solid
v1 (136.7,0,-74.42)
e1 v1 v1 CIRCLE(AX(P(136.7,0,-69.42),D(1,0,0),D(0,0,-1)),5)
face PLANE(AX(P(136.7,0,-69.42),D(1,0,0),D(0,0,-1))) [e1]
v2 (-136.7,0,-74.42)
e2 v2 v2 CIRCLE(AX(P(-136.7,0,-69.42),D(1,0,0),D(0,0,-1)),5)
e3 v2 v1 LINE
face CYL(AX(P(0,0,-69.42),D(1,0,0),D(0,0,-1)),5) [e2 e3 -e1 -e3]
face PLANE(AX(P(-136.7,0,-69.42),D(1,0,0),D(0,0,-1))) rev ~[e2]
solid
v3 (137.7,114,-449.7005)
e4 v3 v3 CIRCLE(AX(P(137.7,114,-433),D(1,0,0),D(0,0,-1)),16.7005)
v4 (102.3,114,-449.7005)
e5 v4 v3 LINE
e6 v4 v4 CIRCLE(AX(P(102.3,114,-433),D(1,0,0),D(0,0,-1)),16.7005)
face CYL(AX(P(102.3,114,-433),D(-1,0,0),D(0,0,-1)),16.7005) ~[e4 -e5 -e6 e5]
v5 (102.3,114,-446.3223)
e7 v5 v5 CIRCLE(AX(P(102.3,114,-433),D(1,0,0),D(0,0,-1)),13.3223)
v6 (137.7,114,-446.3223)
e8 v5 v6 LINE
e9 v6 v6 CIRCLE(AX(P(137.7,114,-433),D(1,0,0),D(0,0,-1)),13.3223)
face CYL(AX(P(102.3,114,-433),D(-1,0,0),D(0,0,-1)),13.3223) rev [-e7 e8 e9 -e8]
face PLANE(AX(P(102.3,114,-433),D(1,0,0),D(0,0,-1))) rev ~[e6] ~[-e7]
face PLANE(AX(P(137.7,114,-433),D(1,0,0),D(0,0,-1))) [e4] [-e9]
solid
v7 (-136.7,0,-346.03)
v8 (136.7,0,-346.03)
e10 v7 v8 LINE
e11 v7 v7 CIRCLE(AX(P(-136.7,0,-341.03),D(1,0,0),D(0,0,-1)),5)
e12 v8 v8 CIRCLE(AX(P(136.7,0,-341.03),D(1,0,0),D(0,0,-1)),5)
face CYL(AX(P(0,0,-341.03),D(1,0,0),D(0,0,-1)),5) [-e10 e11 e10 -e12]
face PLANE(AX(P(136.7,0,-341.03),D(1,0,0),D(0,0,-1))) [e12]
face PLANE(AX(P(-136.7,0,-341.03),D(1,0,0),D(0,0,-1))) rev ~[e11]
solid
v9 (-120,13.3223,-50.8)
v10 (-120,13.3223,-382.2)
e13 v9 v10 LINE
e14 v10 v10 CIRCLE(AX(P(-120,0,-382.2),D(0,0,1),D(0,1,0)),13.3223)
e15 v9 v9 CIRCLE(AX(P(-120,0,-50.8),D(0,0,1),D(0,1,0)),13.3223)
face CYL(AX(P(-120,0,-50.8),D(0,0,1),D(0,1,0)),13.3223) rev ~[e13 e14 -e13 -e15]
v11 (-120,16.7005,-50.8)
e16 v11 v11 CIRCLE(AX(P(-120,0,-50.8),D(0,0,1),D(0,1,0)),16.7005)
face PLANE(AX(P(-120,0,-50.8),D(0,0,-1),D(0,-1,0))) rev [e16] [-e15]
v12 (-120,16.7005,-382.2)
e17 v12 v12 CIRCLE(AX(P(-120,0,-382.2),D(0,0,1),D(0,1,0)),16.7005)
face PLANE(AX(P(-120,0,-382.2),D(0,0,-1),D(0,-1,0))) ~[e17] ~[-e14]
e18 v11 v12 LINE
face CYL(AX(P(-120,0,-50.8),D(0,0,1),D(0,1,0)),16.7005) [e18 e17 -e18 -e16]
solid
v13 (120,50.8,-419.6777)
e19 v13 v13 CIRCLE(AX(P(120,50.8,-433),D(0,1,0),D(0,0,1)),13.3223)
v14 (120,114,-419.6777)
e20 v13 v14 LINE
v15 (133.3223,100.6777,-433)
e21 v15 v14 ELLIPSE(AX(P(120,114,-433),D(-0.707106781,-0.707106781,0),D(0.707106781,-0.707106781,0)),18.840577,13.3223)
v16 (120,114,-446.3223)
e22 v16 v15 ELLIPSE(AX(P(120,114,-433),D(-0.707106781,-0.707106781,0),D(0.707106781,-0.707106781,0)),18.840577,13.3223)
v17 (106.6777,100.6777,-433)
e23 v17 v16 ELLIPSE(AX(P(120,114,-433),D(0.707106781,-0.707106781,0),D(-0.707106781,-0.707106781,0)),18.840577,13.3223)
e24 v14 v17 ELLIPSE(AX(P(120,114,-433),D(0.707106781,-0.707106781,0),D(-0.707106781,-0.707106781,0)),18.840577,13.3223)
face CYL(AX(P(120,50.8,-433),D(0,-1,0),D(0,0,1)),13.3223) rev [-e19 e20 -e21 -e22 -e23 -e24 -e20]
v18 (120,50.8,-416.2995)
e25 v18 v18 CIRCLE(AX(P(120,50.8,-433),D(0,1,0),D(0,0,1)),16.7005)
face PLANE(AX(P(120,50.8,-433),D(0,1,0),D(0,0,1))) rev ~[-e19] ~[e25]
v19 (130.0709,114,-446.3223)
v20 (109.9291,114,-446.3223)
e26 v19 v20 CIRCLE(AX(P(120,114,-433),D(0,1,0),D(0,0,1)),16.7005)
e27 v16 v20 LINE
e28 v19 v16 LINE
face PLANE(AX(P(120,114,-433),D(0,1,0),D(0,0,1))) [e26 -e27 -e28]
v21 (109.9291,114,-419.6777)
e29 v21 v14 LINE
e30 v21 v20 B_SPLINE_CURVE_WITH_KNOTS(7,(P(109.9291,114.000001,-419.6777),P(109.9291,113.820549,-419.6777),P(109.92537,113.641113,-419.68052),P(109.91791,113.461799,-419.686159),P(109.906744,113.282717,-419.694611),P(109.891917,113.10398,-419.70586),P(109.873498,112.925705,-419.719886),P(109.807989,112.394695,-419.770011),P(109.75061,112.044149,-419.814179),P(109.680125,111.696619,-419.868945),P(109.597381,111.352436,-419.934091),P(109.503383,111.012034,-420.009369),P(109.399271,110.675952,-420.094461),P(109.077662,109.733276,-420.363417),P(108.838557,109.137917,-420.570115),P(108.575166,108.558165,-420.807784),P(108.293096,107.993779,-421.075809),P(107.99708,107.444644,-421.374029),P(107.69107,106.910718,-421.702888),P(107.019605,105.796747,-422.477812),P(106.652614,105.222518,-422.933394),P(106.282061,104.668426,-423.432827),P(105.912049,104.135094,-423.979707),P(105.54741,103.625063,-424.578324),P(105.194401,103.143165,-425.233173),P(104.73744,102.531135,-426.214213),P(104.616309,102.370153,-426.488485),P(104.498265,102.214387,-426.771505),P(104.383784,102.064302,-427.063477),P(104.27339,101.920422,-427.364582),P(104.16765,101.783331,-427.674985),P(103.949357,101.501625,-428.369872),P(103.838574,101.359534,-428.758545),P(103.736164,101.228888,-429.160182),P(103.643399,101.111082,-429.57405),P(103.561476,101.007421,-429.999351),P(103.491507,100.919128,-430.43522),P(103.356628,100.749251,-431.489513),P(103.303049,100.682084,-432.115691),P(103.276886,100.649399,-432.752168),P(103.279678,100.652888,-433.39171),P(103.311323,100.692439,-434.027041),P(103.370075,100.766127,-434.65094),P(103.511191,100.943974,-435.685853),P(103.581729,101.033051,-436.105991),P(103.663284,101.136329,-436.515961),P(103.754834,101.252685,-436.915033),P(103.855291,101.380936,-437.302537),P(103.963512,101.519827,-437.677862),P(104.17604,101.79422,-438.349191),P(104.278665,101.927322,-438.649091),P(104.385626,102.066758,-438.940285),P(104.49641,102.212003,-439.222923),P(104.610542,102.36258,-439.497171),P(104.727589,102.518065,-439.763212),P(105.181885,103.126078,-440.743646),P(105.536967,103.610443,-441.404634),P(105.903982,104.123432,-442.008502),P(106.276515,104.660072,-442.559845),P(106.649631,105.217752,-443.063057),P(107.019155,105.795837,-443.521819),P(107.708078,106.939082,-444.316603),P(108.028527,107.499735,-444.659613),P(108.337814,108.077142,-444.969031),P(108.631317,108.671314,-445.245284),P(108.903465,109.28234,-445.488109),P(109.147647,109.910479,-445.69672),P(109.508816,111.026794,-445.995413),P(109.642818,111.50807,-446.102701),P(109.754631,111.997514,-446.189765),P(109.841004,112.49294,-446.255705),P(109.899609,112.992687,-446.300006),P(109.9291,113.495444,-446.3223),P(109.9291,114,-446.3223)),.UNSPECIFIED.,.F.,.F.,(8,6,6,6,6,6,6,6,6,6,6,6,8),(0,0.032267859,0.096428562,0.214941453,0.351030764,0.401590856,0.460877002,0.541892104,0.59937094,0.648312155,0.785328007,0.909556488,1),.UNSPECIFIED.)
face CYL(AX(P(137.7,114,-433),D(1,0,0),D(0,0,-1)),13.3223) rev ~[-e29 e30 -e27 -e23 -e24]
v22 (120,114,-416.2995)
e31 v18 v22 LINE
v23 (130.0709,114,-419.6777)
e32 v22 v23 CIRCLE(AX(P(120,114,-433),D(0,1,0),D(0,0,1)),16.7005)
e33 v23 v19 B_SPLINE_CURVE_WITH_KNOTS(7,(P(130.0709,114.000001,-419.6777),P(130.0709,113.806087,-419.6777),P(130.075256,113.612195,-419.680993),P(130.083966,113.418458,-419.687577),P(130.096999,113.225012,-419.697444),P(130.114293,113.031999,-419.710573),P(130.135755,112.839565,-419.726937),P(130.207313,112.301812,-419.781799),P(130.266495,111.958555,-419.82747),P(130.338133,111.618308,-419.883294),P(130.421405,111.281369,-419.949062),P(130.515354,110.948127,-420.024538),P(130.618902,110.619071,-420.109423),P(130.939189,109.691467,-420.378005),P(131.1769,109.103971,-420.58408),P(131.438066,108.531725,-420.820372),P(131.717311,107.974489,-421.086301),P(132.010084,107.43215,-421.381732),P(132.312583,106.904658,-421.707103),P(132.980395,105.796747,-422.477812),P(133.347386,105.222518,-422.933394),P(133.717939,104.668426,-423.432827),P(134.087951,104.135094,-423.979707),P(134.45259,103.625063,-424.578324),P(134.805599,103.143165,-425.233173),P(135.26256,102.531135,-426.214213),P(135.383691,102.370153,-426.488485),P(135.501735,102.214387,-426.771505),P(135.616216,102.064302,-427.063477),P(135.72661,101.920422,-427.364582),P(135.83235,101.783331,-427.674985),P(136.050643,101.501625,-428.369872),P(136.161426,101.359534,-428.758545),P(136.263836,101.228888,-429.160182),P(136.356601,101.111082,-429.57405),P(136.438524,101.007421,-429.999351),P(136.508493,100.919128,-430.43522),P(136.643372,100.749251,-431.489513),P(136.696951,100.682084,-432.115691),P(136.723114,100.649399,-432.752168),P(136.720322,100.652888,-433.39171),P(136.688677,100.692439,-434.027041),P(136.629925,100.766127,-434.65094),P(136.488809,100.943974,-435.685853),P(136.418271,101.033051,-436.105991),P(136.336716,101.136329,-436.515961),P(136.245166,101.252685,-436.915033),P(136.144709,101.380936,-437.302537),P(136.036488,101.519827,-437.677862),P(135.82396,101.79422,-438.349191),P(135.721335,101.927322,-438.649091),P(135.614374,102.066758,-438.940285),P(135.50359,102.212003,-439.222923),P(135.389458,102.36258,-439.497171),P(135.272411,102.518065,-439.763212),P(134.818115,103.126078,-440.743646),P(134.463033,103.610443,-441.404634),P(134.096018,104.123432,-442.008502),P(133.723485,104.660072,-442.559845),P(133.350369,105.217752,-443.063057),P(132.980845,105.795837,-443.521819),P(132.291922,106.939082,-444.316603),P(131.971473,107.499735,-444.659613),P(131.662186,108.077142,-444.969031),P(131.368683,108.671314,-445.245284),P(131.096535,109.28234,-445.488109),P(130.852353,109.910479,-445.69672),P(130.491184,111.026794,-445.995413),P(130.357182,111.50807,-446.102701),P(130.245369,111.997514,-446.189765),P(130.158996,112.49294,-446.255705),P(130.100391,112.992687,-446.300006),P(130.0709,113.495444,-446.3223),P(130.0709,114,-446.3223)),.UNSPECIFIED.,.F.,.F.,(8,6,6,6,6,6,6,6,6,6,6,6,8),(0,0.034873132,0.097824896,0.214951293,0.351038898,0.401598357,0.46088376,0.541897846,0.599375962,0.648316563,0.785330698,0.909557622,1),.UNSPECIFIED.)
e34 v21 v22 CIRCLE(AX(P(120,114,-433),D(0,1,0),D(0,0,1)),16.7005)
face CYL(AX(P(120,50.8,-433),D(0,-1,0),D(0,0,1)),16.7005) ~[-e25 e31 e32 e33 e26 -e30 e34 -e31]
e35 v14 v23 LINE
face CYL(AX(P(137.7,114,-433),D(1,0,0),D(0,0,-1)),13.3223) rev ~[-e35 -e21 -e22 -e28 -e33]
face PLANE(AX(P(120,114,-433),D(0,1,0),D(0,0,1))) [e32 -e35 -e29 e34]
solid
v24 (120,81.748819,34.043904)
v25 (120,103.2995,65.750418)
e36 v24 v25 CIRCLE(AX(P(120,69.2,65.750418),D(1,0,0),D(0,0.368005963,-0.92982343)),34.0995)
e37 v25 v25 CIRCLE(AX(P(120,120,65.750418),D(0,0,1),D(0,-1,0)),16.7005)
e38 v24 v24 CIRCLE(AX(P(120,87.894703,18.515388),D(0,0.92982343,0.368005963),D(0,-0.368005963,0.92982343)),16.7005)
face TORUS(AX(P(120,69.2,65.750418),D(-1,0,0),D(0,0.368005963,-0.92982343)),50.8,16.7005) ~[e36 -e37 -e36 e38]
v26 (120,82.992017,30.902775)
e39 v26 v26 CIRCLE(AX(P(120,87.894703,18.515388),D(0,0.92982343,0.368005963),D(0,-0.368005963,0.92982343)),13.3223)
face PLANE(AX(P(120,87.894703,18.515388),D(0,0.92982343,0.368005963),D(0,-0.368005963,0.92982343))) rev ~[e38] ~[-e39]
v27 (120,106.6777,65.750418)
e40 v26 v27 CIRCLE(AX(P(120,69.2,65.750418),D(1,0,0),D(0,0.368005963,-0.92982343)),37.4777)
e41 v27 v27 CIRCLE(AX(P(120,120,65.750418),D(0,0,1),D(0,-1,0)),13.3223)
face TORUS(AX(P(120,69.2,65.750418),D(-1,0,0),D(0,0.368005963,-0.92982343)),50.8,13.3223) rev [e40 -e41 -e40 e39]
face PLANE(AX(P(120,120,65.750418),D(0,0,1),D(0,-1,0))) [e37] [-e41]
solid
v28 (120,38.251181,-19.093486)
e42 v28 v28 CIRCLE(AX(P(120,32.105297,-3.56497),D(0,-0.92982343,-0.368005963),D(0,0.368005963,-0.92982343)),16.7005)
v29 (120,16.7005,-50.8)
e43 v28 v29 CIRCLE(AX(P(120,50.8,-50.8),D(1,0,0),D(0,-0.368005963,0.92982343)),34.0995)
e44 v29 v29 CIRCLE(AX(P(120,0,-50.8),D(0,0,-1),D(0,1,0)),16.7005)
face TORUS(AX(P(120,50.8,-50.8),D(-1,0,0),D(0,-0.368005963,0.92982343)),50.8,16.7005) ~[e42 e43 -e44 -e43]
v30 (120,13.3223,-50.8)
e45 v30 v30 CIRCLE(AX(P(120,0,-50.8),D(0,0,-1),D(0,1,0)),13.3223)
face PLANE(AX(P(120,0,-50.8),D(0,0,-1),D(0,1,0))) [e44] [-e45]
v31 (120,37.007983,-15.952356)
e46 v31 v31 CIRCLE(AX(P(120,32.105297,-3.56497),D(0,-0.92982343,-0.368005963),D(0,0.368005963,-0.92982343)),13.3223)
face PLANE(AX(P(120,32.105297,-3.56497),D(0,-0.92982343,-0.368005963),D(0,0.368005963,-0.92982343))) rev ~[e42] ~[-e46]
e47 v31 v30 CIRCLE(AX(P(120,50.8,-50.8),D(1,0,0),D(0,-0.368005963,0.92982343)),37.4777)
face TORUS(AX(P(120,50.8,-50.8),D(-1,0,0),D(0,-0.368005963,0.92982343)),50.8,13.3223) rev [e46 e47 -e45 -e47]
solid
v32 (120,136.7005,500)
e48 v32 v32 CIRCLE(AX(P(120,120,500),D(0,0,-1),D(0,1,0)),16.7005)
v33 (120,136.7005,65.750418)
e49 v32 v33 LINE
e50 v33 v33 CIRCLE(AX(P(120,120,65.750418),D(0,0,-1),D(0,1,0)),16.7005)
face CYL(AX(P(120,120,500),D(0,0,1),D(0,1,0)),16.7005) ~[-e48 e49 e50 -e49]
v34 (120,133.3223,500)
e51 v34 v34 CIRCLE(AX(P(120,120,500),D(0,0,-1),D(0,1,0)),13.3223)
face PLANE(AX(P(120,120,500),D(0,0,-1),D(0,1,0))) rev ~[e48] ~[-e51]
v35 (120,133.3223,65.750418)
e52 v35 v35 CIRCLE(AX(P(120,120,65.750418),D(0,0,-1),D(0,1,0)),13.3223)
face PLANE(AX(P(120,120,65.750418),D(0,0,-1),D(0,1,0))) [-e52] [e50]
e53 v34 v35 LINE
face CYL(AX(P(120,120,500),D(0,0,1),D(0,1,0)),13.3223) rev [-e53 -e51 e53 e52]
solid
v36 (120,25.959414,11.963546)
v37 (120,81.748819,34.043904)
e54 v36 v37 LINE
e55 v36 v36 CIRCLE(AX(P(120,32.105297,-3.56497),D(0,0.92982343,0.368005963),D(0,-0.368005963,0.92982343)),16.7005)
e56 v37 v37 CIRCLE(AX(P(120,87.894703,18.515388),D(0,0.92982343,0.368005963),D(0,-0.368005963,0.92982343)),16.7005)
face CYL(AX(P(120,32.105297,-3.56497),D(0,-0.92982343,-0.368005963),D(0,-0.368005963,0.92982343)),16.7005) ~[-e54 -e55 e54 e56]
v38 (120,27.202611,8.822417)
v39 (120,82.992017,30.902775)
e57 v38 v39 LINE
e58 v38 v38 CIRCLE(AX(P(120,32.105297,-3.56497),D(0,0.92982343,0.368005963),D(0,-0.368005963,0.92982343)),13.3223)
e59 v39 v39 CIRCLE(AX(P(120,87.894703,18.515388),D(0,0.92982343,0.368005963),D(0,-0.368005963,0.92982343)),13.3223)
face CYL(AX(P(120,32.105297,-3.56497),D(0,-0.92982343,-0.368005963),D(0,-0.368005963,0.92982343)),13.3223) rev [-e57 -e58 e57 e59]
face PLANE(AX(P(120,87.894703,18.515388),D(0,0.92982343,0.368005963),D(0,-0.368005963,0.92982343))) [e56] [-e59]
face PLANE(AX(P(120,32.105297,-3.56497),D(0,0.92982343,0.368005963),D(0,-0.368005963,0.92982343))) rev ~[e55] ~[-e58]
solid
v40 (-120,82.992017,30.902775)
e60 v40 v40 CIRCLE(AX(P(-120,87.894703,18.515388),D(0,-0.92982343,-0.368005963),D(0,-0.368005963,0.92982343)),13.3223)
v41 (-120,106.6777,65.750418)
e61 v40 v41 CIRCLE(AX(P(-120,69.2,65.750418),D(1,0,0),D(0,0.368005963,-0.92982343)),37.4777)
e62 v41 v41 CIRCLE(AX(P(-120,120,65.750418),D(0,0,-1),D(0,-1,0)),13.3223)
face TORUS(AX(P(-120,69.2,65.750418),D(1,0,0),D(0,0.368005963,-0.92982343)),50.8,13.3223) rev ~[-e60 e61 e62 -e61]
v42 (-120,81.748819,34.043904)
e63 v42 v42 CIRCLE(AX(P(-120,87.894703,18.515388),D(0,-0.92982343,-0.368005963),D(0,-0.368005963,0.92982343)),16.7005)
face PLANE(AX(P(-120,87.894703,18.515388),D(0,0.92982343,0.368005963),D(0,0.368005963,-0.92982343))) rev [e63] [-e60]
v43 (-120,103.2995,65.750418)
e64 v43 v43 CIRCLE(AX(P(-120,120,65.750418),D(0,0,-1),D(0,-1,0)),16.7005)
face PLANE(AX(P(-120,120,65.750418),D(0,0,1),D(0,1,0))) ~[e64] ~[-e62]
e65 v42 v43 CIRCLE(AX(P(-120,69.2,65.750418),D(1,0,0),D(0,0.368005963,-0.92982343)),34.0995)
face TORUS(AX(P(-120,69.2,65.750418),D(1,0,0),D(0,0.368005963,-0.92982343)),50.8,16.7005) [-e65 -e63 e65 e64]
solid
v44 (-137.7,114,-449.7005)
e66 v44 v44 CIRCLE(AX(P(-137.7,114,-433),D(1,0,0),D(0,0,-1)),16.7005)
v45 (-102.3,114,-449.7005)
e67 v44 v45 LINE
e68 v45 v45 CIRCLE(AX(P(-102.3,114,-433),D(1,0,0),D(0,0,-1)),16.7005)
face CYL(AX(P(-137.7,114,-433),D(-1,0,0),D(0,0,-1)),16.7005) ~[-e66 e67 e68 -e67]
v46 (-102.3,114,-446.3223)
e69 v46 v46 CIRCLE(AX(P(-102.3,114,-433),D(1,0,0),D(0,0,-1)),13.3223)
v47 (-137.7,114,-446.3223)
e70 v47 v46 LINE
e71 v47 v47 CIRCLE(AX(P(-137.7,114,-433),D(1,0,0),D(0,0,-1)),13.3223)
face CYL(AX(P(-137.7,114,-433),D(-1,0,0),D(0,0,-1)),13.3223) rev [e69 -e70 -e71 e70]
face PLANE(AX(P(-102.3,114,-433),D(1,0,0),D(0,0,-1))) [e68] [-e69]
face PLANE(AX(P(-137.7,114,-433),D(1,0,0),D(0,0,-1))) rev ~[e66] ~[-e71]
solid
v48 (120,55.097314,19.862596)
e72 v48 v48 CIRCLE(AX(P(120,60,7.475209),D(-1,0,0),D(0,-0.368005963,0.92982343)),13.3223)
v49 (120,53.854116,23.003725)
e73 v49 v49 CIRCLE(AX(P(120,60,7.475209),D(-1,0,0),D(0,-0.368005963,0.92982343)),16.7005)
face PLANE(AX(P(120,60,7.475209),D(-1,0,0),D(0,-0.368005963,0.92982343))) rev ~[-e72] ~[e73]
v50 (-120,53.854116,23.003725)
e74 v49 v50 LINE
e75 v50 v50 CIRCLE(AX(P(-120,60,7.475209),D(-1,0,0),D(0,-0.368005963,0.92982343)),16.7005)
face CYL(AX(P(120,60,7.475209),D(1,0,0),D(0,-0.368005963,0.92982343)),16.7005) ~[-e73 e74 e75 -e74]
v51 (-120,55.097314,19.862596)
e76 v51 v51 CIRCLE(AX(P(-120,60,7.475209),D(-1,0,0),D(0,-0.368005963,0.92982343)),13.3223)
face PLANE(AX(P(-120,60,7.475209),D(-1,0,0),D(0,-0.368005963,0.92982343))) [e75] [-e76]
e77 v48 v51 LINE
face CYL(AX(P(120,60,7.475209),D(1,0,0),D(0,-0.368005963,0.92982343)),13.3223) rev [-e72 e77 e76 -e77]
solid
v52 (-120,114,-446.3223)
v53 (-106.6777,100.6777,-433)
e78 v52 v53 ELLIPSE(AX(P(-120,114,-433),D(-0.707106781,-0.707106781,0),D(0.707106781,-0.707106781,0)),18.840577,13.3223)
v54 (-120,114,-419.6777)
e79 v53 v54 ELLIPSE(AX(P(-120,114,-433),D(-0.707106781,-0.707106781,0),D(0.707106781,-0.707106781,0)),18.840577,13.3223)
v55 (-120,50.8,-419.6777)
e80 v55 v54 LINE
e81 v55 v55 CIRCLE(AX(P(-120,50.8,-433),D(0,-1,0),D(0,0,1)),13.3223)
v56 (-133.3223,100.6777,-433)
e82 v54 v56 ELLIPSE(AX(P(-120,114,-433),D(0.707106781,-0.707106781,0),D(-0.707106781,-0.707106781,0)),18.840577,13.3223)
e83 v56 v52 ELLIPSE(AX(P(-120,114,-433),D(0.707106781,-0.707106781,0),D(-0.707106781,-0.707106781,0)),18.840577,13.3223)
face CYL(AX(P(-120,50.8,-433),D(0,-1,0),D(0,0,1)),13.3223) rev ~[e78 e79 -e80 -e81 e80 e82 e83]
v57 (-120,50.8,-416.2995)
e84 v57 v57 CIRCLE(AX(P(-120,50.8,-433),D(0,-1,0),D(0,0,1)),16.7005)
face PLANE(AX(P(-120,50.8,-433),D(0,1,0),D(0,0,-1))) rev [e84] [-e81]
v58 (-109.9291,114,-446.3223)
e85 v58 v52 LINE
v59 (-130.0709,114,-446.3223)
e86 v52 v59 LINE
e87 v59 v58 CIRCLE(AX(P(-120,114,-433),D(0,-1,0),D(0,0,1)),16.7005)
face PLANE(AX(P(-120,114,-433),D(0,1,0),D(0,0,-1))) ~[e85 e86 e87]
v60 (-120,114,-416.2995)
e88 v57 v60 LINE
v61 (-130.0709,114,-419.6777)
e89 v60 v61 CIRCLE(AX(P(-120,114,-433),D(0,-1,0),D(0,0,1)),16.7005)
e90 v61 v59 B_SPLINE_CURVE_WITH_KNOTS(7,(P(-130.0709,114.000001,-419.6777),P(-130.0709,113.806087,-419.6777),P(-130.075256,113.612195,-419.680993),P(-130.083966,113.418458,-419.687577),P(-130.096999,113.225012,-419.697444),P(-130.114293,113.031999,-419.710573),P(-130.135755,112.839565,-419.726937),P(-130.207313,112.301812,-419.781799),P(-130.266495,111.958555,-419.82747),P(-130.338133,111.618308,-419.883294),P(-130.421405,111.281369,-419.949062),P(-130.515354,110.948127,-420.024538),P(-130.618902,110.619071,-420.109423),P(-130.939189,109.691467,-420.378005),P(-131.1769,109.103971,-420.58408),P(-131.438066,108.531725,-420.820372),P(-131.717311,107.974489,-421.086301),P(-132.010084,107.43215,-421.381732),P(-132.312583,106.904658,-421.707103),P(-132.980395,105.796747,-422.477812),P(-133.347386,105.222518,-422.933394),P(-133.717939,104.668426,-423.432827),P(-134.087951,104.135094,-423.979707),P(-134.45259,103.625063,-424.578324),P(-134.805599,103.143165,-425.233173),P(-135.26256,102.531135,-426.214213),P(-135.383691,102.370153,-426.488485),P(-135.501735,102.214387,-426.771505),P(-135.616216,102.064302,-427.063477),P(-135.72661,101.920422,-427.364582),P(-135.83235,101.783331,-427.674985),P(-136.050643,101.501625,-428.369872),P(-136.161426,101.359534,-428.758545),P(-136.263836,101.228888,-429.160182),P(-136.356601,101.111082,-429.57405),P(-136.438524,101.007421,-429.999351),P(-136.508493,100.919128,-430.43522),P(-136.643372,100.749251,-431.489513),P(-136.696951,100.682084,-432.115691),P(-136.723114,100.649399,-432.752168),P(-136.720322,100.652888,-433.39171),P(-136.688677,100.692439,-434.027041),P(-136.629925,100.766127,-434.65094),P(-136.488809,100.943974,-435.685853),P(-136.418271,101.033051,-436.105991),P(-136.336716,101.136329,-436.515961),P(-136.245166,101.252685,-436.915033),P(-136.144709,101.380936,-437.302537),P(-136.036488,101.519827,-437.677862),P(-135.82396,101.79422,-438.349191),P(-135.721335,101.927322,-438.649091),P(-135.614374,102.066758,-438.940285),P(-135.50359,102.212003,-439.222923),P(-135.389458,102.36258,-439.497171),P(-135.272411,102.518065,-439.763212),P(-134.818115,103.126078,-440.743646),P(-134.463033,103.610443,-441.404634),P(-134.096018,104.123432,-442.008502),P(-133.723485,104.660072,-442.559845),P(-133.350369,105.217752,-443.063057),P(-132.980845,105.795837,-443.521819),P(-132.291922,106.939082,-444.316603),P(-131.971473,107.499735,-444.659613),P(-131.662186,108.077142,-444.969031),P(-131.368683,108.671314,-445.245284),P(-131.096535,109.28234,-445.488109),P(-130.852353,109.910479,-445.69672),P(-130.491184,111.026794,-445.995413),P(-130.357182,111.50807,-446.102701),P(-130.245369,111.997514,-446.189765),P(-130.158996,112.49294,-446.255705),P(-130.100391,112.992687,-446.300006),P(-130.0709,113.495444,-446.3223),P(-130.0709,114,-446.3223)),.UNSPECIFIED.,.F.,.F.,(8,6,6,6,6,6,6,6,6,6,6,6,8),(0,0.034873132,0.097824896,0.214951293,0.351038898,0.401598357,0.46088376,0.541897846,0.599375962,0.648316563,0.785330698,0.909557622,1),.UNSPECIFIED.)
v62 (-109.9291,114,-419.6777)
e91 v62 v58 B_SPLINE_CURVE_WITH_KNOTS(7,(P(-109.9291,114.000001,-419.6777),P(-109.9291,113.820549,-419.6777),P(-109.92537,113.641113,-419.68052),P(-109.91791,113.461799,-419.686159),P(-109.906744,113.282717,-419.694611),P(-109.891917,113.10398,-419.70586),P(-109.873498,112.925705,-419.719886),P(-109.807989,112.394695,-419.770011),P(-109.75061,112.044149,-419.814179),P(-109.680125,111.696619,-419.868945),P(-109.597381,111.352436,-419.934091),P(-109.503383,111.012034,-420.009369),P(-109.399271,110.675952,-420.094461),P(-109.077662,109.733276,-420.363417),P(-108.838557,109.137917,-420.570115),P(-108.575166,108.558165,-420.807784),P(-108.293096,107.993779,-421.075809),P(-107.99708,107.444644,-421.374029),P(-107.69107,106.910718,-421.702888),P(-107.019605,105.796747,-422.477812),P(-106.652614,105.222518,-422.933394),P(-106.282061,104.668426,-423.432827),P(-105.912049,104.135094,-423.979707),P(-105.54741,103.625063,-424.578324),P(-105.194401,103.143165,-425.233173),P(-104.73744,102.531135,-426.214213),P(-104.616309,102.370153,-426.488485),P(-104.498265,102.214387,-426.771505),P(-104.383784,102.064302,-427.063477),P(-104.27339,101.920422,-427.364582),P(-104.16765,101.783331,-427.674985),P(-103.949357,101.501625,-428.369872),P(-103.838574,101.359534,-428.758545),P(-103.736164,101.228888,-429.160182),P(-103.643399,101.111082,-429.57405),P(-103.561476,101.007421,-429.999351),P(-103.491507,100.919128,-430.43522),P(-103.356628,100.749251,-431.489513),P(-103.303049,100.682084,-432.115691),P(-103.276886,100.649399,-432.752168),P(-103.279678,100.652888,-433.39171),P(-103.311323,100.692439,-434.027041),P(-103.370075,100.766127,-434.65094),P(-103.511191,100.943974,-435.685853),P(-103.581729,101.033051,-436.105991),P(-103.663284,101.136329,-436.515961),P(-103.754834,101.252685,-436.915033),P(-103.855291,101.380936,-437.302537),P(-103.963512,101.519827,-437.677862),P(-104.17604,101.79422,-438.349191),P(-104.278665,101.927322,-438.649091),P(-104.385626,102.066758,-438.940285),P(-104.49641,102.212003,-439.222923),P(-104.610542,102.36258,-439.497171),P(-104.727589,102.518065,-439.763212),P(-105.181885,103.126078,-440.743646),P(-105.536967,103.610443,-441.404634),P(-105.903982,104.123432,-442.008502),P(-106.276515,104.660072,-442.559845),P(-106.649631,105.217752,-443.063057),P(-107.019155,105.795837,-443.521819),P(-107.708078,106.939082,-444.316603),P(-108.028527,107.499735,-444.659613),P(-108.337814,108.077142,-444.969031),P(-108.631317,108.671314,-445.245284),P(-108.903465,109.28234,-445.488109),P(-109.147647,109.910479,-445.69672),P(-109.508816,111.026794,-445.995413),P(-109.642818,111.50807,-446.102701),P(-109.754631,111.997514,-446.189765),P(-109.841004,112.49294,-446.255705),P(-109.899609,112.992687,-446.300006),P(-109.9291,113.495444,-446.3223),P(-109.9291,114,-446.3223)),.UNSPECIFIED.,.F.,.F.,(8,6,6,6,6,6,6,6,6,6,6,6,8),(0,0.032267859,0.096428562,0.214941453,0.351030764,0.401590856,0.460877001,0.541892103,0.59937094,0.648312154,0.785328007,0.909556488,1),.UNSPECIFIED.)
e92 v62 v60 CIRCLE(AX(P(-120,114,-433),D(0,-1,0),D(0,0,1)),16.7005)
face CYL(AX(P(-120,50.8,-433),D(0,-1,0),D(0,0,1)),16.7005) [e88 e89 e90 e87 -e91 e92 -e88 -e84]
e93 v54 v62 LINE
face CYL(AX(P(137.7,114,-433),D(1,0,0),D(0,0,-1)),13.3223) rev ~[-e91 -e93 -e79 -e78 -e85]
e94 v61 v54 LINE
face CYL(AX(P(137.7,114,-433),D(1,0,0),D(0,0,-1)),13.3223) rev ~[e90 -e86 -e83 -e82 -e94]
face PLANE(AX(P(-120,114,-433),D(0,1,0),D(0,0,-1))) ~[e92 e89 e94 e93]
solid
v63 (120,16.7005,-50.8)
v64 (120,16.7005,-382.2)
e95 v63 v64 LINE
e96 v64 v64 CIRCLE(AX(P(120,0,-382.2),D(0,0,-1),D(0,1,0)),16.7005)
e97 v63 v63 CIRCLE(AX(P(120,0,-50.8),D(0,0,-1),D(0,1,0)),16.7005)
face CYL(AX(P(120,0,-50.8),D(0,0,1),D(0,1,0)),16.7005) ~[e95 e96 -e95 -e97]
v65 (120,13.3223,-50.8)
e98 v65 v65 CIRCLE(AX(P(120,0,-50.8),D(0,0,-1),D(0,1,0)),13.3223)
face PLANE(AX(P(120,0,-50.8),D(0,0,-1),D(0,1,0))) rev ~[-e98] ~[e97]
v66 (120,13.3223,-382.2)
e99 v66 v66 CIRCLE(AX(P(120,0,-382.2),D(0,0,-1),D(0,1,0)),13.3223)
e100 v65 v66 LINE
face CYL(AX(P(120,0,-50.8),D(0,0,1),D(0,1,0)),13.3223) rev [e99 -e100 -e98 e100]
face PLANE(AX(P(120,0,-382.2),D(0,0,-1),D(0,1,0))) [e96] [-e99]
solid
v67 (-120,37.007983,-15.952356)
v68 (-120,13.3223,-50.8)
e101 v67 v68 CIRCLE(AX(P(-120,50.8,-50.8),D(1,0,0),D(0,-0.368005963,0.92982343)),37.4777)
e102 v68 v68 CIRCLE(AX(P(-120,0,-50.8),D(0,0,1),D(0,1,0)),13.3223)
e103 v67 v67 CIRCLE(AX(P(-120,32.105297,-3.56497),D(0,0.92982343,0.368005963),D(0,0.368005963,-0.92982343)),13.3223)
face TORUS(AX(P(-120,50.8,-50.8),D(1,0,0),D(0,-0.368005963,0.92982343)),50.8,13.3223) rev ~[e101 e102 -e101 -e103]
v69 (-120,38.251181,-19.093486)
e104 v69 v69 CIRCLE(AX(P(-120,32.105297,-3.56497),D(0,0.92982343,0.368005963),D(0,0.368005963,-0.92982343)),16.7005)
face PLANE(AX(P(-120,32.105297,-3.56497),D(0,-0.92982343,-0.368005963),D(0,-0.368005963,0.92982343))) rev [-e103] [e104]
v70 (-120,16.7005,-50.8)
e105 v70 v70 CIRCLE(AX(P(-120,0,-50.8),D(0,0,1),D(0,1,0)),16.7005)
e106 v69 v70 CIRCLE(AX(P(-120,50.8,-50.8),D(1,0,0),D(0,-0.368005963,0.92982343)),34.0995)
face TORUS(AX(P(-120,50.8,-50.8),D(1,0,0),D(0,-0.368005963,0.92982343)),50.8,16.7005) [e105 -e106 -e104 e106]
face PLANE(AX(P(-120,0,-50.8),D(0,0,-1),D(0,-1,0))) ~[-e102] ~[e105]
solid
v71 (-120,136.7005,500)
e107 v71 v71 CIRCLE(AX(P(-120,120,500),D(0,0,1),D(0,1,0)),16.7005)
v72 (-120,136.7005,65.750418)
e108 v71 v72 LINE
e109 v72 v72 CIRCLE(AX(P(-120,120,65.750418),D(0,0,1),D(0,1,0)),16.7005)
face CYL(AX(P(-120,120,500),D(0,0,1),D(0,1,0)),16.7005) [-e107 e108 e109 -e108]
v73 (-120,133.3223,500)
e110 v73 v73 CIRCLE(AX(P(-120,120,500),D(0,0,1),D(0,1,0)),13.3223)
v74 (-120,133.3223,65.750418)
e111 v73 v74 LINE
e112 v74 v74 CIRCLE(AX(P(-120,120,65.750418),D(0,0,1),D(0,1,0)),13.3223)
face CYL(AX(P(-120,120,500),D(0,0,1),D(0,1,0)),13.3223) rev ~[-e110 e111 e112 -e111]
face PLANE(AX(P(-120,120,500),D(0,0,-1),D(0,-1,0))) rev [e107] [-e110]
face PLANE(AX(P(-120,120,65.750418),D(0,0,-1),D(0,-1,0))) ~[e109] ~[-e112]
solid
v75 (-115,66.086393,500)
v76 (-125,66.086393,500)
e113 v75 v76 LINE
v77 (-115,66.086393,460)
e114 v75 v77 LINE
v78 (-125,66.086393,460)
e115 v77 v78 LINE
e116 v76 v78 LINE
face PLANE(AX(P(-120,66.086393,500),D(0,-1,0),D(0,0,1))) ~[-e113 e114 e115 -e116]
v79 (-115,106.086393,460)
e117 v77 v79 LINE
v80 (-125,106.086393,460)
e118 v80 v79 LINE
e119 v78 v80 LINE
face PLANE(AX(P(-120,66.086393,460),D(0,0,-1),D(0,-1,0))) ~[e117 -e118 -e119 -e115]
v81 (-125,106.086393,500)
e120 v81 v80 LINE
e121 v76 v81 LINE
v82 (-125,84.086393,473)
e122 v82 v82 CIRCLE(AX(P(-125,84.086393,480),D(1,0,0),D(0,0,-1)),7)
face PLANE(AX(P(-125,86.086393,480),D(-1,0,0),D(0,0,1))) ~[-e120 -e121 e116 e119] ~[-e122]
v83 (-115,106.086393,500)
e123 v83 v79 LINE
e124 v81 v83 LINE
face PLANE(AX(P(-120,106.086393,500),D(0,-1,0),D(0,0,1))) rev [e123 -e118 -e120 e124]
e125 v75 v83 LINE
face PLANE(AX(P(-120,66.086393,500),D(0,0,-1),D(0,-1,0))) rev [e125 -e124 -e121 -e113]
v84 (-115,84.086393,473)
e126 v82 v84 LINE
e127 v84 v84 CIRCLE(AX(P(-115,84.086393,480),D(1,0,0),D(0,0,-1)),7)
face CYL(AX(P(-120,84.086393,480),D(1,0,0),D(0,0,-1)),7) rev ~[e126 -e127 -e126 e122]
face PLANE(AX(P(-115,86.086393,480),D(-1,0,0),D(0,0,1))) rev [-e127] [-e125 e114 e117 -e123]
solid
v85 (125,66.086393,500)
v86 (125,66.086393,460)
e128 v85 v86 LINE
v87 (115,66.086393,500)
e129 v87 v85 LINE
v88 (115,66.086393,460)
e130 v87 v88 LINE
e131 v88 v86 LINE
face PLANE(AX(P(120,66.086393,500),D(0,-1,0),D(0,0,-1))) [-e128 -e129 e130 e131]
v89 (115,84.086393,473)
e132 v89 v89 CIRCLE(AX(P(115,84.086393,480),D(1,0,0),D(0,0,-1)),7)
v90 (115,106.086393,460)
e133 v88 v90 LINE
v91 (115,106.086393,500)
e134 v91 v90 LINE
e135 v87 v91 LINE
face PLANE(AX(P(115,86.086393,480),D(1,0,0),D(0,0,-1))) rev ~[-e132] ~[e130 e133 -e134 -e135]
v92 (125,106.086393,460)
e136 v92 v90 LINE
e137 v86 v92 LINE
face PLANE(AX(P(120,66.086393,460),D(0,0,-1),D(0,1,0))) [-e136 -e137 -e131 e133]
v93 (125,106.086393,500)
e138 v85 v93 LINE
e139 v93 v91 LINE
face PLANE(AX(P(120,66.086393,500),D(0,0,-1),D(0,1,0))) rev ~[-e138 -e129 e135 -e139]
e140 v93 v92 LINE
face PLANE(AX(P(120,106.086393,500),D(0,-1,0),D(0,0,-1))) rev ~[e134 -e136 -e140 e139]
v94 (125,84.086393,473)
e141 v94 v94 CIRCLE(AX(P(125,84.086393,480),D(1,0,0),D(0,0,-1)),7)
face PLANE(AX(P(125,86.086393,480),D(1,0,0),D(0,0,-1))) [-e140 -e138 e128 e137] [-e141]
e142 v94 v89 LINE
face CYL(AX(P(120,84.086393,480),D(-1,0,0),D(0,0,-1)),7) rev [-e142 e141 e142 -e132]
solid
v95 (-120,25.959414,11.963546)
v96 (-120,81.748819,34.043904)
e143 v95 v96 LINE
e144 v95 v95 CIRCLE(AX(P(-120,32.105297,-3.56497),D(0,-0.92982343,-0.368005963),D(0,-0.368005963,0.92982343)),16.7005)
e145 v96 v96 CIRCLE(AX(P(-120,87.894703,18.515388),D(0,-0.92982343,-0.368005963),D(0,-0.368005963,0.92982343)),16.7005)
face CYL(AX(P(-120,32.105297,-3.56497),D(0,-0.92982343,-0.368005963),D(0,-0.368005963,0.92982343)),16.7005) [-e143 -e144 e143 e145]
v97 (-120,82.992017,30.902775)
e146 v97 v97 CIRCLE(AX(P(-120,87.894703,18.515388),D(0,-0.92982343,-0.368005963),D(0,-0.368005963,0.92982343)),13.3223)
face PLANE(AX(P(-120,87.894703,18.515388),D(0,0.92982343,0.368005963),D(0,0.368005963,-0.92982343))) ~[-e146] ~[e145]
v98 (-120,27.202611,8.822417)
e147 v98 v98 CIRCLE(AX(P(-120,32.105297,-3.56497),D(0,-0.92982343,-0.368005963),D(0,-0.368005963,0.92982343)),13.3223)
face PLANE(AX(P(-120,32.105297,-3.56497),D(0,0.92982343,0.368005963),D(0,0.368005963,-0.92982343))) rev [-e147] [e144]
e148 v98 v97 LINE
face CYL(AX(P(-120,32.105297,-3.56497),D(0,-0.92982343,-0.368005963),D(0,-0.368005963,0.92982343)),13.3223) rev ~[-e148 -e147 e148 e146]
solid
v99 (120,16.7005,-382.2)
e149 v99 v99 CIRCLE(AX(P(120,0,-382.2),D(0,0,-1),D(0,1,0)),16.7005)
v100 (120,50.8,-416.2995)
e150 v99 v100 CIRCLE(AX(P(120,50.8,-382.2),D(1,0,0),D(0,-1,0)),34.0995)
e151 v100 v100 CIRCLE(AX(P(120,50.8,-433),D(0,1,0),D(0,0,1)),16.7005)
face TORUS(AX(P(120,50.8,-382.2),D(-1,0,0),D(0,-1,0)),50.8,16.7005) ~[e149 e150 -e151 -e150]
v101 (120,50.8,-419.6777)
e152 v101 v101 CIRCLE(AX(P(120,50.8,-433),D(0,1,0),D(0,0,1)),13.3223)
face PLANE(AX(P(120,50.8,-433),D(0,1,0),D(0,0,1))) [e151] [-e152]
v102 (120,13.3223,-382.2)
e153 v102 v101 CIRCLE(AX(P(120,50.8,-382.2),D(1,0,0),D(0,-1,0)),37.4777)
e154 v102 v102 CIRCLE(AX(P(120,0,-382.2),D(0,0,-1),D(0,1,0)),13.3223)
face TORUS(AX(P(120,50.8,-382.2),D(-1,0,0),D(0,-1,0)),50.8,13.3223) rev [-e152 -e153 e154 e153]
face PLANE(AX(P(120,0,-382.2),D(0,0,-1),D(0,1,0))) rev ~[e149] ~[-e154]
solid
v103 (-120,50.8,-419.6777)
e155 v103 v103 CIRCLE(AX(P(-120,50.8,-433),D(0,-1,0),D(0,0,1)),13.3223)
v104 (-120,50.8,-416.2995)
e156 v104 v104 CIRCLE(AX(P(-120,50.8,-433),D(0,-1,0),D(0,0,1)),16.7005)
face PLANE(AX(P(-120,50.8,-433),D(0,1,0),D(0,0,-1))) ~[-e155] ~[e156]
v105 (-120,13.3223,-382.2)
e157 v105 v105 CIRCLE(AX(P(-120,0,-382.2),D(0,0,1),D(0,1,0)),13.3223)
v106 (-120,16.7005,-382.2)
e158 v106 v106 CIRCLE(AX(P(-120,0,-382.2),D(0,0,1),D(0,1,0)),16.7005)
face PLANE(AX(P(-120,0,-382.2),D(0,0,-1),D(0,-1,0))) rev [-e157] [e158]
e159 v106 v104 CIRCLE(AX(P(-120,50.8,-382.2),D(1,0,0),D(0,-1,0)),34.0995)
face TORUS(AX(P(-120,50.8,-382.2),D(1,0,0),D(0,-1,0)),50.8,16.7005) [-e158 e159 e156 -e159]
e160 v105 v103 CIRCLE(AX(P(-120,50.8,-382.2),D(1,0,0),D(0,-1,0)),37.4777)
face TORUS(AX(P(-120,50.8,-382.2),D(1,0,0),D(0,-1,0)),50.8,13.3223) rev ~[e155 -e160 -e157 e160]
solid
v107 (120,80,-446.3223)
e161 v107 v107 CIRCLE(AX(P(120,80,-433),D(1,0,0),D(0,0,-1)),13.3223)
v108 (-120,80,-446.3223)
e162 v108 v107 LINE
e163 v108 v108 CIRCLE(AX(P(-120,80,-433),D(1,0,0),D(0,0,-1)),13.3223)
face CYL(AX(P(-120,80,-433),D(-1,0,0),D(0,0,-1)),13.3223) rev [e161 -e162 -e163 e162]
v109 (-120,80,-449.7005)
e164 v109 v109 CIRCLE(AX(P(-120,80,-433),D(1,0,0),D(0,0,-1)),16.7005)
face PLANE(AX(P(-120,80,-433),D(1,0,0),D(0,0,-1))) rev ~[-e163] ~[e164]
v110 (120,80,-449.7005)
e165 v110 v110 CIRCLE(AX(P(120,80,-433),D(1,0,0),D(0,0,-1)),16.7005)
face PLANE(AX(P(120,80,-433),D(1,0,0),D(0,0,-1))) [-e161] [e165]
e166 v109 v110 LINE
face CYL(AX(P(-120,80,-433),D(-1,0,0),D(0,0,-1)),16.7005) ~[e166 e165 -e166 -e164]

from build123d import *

# Parameters (mm, degrees)
SKETCH1_R                    = 16.7005
SKETCH1_R_2                  = 13.322299999999998
MIEMBRO_ESTRUCTURAL5_DEPTH   = 434.249581725
SKETCH1_ON_SEGMENT_2_R       = 16.7005
SKETCH1_ON_SEGMENT_2_R_2     = 13.322299999999998
MIEMBRO_ESTRUCTURAL5_2_ANGLE = 68.407307705
SKETCH1_ON_SEGMENT_3_R       = 16.7005
SKETCH1_ON_SEGMENT_3_R_2     = 13.322299999999998
MIEMBRO_ESTRUCTURAL5_3_DEPTH = 60
SKETCH1_ON_SEGMENT_4_R       = 16.7005
SKETCH1_ON_SEGMENT_4_R_2     = 13.322299999999998
MIEMBRO_ESTRUCTURAL5_4_ANGLE = 68.407307705
SKETCH1_ON_SEGMENT_5_R       = 16.7005
SKETCH1_ON_SEGMENT_5_R_2     = 13.322299999999998
MIEMBRO_ESTRUCTURAL5_5_DEPTH = 331.4
SKETCH1_ON_SEGMENT_6_R       = 16.7005
SKETCH1_ON_SEGMENT_6_R_2     = 13.322299999999998
MIEMBRO_ESTRUCTURAL5_6_ANGLE = 90
SKETCH1_ON_SEGMENT_7_R       = 16.7005
SKETCH1_ON_SEGMENT_7_R_2     = 13.322299999999998
MIEMBRO_ESTRUCTURAL5_7_DEPTH = 63.2
SKETCH12_R                   = 16.7005
SKETCH12_R_2                 = 13.322299999999998
MIEMBRO_ESTRUCTURAL2_DEPTH   = 35.4
SKETCH12_ON_SEGMENT_2_R      = 16.7005
SKETCH12_ON_SEGMENT_2_R_2    = 13.322299999999998
MIEMBRO_ESTRUCTURAL2_2_DEPTH = 35.4
SKETCH13_R                   = 16.7005
SKETCH13_R_2                 = 13.322299999999998
MIEMBRO_ESTRUCTURAL3_DEPTH   = 240
SKETCH14_R                   = 16.7005
SKETCH14_R_2                 = 13.322299999999998
MIEMBRO_ESTRUCTURAL4_DEPTH   = 240
CROQUIS8_R                   = 13.322300000000034
CORTAR_EXTRUIR1_DEPTH        = 50
CROQUIS12_W                  = 40
CROQUIS12_H                  = 39.999999999999986
CROQUIS12_R                  = 6.999999999999988
SALIENTE_EXTRUIR1_DEPTH      = 5
CROQUIS8_2_R                 = 13.322300000000034
CORTAR_EXTRUIR2_DEPTH        = 320.0000000000001
CROQUIS13_R                  = 4.99999999999999
SALIENTE_EXTRUIR2_DEPTH      = 136.7
CROQUIS13_R_2                = 5.000000000000004
SALIENTE_EXTRUIR2_2_DEPTH    = 136.7


with BuildPart() as part:
    # Sketch1 → Miembro estructural5 (new body)
    with BuildSketch(Plane(origin=(120, 120.00000000000001, 500), x_dir=(0, 1, -1e-16), z_dir=(0, -1e-16, -1))):
        Circle(SKETCH1_R)
        Circle(SKETCH1_R_2, mode=Mode.SUBTRACT)
    extrude(amount=MIEMBRO_ESTRUCTURAL5_DEPTH)


with BuildPart() as body_2:
    # Sketch1 on segment 2 (carried to the start of arc 2) → Miembro estructural5 2 (revolve)
    with BuildSketch(Plane(origin=(120, 87.894702907, 18.515388019), x_dir=(0, -0.368005963, 0.92982343), z_dir=(0, 0.92982343, 0.368005963))):
        Circle(SKETCH1_ON_SEGMENT_2_R)
        Circle(SKETCH1_ON_SEGMENT_2_R_2, mode=Mode.SUBTRACT)
    revolve(axis=Axis((120, 69.2, 65.750418275), (1, 0, 0)), revolution_arc=MIEMBRO_ESTRUCTURAL5_2_ANGLE)


with BuildPart() as body_3:
    # Sketch1 on segment 3 (carried to segment 3) → Miembro estructural5 3 (new body)
    with BuildSketch(Plane(origin=(120, 32.105297093, -3.564969745), x_dir=(0, -0.368005963, 0.92982343), z_dir=(0, 0.92982343, 0.368005963))):
        Circle(SKETCH1_ON_SEGMENT_3_R)
        Circle(SKETCH1_ON_SEGMENT_3_R_2, mode=Mode.SUBTRACT)
    extrude(amount=MIEMBRO_ESTRUCTURAL5_3_DEPTH)


with BuildPart() as body_4:
    # Sketch1 on segment 4 (carried to the start of arc 4) → Miembro estructural5 4 (revolve)
    with BuildSketch(Plane(origin=(120, 32.105297093, -3.564969745), x_dir=(0, 0.368005963, -0.92982343), z_dir=(0, -0.92982343, -0.368005963))):
        Circle(SKETCH1_ON_SEGMENT_4_R)
        Circle(SKETCH1_ON_SEGMENT_4_R_2, mode=Mode.SUBTRACT)
    revolve(axis=Axis((120, 50.8, -50.8), (1, 0, 0)), revolution_arc=MIEMBRO_ESTRUCTURAL5_4_ANGLE)


with BuildPart() as body_5:
    # Sketch1 on segment 5 (carried to segment 5) → Miembro estructural5 5 (new body)
    with BuildSketch(Plane(origin=(120, 0, -50.8), x_dir=(0, 1, 0), z_dir=(0, 0, -1))):
        Circle(SKETCH1_ON_SEGMENT_5_R)
        Circle(SKETCH1_ON_SEGMENT_5_R_2, mode=Mode.SUBTRACT)
    extrude(amount=MIEMBRO_ESTRUCTURAL5_5_DEPTH)


with BuildPart() as body_6:
    # Sketch1 on segment 6 (carried to the start of arc 6) → Miembro estructural5 6 (revolve)
    with BuildSketch(Plane(origin=(120, 0, -382.2), x_dir=(0, 1, 0), z_dir=(0, 0, -1))):
        Circle(SKETCH1_ON_SEGMENT_6_R)
        Circle(SKETCH1_ON_SEGMENT_6_R_2, mode=Mode.SUBTRACT)
    revolve(axis=Axis((120, 50.8, -382.2), (1, 0, 0)), revolution_arc=MIEMBRO_ESTRUCTURAL5_6_ANGLE)


with BuildPart() as body_7:
    # Sketch1 on segment 7 (carried to segment 7) → Miembro estructural5 7 (new body)
    with BuildSketch(Plane(origin=(120, 50.8, -433), x_dir=(0, 0, 1), z_dir=(0, 1, 0))):
        Circle(SKETCH1_ON_SEGMENT_7_R)
        Circle(SKETCH1_ON_SEGMENT_7_R_2, mode=Mode.SUBTRACT)
    extrude(amount=MIEMBRO_ESTRUCTURAL5_7_DEPTH)


with BuildPart() as body_8:
    # Sketch12 → Miembro estructural2 (new body)
    with BuildSketch(Plane(origin=(-137.7, 114, -433.0000000000001), x_dir=(0, 0, -1), z_dir=(1, 0, 0))):
        Circle(SKETCH12_R)
        Circle(SKETCH12_R_2, mode=Mode.SUBTRACT)
    extrude(amount=MIEMBRO_ESTRUCTURAL2_DEPTH)


with BuildPart() as body_9:
    # Sketch12 on segment 2 (carried to segment 2) → Miembro estructural2 2 (new body)
    with BuildSketch(Plane(origin=(102.3, 114, -433), x_dir=(0, 0, -1), z_dir=(1, 0, 0))):
        Circle(SKETCH12_ON_SEGMENT_2_R)
        Circle(SKETCH12_ON_SEGMENT_2_R_2, mode=Mode.SUBTRACT)
    extrude(amount=MIEMBRO_ESTRUCTURAL2_2_DEPTH)


with BuildPart() as body_10:
    # Sketch13 → Miembro estructural3 (new body)
    with BuildSketch(Plane(origin=(120, 60.00000000000002, 7.475209137333867), x_dir=(0, -0.3680059627309965, 0.9298234302244875), z_dir=(-1, 3e-17, -1.2e-16))):
        Circle(SKETCH13_R)
        Circle(SKETCH13_R_2, mode=Mode.SUBTRACT)
    extrude(amount=MIEMBRO_ESTRUCTURAL3_DEPTH)


with BuildPart() as body_11:
    # Sketch14 → Miembro estructural4 (new body)
    with BuildSketch(Plane(origin=(-120, 80, -433.00000000000017), x_dir=(6.9e-16, 0, -1), z_dir=(1, 0, 6.9e-16))):
        Circle(SKETCH14_R)
        Circle(SKETCH14_R_2, mode=Mode.SUBTRACT)
    extrude(amount=MIEMBRO_ESTRUCTURAL4_DEPTH)


with BuildPart() as body_12:
    # Simetría3: mirrored copy
    add(part.part.mirror(Plane(origin=(0, 0, 0), x_dir=(0, 0, 1), z_dir=(1, 0, 0))))


with BuildPart() as body_13:
    # Simetr_a3 2: mirrored copy
    add(body_2.part.mirror(Plane(origin=(0, 0, 0), x_dir=(0, 0, 1), z_dir=(1, 0, 0))))


with BuildPart() as body_14:
    # Simetr_a3 3: mirrored copy
    add(body_3.part.mirror(Plane(origin=(0, 0, 0), x_dir=(0, 0, 1), z_dir=(1, 0, 0))))


with BuildPart() as body_15:
    # Simetr_a3 4: mirrored copy
    add(body_4.part.mirror(Plane(origin=(0, 0, 0), x_dir=(0, 0, 1), z_dir=(1, 0, 0))))


with BuildPart() as body_16:
    # Simetr_a3 5: mirrored copy
    add(body_5.part.mirror(Plane(origin=(0, 0, 0), x_dir=(0, 0, 1), z_dir=(1, 0, 0))))


with BuildPart() as body_17:
    # Simetr_a3 6: mirrored copy
    add(body_6.part.mirror(Plane(origin=(0, 0, 0), x_dir=(0, 0, 1), z_dir=(1, 0, 0))))


with BuildPart() as body_18:
    # Simetr_a3 7: mirrored copy
    add(body_7.part.mirror(Plane(origin=(0, 0, 0), x_dir=(0, 0, 1), z_dir=(1, 0, 0))))

    # Croquis8<2> → Cortar-Extruir2 (cut)
    with BuildSketch(Plane(origin=(137.7, 0, 0), x_dir=(0, 0, -1), z_dir=(1, 0, 0))):
        with Locations((432.99999999999994, 114)):
            Circle(CROQUIS8_2_R)
    extrude(amount=-CORTAR_EXTRUIR2_DEPTH, mode=Mode.SUBTRACT)


with BuildPart() as body_7_1:
    add(body_7.part)

    # Croquis8 → Cortar-Extruir1 (cut)
    with BuildSketch(Plane(origin=(137.7, 0, 0), x_dir=(0, 0, -1), z_dir=(1, 0, 0))):
        with Locations((432.99999999999994, 114)):
            Circle(CROQUIS8_R)
    extrude(amount=-CORTAR_EXTRUIR1_DEPTH, mode=Mode.SUBTRACT)


with BuildPart() as body_19:
    # Croquis12 → Saliente-Extruir1 (new, symmetric)
    with BuildSketch(Plane(origin=(120, 0, 0), x_dir=(0, 0, -1), z_dir=(1, 0, 0))):
        with Locations((-480.00000000000006, 86.086392923983)):
            Rectangle(CROQUIS12_W, CROQUIS12_H)
        with Locations((-480.00000000000006, 84.086392923983)):
            Circle(CROQUIS12_R, mode=Mode.SUBTRACT)
    extrude(amount=SALIENTE_EXTRUIR1_DEPTH, both=True)


with BuildPart() as body_20:
    # Simetría5: mirrored copy
    add(body_19.part.mirror(Plane(origin=(0, 0, 0), x_dir=(0, 0, 1), z_dir=(1, 0, 0))))


with BuildPart() as body_21:
    # Croquis13 → Saliente-Extruir2 (new, symmetric)
    with BuildSketch(Plane(origin=(0, 0, 0), x_dir=(0, 0, -1), z_dir=(1, 0, 0))):
        with Locations((341.03, -4.14e-15)):
            Circle(CROQUIS13_R)
    extrude(amount=SALIENTE_EXTRUIR2_DEPTH, both=True)


with BuildPart() as body_22:
    # Croquis13 → Saliente-Extruir2 2 (new, symmetric)
    with BuildSketch(Plane(origin=(0, 0, 0), x_dir=(0, 0, -1), z_dir=(1, 0, 0))):
        with Locations((69.42, -8.42e-15)):
            Circle(CROQUIS13_R_2)
    extrude(amount=SALIENTE_EXTRUIR2_2_DEPTH, both=True)


solid = Compound([part.part, body_2.part, body_3.part, body_4.part, body_5.part, body_6.part, body_8.part, body_9.part, body_10.part, body_11.part, body_12.part, body_13.part, body_14.part, body_15.part, body_16.part, body_17.part, body_18.part, body_7_1.part, body_19.part, body_20.part, body_21.part, body_22.part])
